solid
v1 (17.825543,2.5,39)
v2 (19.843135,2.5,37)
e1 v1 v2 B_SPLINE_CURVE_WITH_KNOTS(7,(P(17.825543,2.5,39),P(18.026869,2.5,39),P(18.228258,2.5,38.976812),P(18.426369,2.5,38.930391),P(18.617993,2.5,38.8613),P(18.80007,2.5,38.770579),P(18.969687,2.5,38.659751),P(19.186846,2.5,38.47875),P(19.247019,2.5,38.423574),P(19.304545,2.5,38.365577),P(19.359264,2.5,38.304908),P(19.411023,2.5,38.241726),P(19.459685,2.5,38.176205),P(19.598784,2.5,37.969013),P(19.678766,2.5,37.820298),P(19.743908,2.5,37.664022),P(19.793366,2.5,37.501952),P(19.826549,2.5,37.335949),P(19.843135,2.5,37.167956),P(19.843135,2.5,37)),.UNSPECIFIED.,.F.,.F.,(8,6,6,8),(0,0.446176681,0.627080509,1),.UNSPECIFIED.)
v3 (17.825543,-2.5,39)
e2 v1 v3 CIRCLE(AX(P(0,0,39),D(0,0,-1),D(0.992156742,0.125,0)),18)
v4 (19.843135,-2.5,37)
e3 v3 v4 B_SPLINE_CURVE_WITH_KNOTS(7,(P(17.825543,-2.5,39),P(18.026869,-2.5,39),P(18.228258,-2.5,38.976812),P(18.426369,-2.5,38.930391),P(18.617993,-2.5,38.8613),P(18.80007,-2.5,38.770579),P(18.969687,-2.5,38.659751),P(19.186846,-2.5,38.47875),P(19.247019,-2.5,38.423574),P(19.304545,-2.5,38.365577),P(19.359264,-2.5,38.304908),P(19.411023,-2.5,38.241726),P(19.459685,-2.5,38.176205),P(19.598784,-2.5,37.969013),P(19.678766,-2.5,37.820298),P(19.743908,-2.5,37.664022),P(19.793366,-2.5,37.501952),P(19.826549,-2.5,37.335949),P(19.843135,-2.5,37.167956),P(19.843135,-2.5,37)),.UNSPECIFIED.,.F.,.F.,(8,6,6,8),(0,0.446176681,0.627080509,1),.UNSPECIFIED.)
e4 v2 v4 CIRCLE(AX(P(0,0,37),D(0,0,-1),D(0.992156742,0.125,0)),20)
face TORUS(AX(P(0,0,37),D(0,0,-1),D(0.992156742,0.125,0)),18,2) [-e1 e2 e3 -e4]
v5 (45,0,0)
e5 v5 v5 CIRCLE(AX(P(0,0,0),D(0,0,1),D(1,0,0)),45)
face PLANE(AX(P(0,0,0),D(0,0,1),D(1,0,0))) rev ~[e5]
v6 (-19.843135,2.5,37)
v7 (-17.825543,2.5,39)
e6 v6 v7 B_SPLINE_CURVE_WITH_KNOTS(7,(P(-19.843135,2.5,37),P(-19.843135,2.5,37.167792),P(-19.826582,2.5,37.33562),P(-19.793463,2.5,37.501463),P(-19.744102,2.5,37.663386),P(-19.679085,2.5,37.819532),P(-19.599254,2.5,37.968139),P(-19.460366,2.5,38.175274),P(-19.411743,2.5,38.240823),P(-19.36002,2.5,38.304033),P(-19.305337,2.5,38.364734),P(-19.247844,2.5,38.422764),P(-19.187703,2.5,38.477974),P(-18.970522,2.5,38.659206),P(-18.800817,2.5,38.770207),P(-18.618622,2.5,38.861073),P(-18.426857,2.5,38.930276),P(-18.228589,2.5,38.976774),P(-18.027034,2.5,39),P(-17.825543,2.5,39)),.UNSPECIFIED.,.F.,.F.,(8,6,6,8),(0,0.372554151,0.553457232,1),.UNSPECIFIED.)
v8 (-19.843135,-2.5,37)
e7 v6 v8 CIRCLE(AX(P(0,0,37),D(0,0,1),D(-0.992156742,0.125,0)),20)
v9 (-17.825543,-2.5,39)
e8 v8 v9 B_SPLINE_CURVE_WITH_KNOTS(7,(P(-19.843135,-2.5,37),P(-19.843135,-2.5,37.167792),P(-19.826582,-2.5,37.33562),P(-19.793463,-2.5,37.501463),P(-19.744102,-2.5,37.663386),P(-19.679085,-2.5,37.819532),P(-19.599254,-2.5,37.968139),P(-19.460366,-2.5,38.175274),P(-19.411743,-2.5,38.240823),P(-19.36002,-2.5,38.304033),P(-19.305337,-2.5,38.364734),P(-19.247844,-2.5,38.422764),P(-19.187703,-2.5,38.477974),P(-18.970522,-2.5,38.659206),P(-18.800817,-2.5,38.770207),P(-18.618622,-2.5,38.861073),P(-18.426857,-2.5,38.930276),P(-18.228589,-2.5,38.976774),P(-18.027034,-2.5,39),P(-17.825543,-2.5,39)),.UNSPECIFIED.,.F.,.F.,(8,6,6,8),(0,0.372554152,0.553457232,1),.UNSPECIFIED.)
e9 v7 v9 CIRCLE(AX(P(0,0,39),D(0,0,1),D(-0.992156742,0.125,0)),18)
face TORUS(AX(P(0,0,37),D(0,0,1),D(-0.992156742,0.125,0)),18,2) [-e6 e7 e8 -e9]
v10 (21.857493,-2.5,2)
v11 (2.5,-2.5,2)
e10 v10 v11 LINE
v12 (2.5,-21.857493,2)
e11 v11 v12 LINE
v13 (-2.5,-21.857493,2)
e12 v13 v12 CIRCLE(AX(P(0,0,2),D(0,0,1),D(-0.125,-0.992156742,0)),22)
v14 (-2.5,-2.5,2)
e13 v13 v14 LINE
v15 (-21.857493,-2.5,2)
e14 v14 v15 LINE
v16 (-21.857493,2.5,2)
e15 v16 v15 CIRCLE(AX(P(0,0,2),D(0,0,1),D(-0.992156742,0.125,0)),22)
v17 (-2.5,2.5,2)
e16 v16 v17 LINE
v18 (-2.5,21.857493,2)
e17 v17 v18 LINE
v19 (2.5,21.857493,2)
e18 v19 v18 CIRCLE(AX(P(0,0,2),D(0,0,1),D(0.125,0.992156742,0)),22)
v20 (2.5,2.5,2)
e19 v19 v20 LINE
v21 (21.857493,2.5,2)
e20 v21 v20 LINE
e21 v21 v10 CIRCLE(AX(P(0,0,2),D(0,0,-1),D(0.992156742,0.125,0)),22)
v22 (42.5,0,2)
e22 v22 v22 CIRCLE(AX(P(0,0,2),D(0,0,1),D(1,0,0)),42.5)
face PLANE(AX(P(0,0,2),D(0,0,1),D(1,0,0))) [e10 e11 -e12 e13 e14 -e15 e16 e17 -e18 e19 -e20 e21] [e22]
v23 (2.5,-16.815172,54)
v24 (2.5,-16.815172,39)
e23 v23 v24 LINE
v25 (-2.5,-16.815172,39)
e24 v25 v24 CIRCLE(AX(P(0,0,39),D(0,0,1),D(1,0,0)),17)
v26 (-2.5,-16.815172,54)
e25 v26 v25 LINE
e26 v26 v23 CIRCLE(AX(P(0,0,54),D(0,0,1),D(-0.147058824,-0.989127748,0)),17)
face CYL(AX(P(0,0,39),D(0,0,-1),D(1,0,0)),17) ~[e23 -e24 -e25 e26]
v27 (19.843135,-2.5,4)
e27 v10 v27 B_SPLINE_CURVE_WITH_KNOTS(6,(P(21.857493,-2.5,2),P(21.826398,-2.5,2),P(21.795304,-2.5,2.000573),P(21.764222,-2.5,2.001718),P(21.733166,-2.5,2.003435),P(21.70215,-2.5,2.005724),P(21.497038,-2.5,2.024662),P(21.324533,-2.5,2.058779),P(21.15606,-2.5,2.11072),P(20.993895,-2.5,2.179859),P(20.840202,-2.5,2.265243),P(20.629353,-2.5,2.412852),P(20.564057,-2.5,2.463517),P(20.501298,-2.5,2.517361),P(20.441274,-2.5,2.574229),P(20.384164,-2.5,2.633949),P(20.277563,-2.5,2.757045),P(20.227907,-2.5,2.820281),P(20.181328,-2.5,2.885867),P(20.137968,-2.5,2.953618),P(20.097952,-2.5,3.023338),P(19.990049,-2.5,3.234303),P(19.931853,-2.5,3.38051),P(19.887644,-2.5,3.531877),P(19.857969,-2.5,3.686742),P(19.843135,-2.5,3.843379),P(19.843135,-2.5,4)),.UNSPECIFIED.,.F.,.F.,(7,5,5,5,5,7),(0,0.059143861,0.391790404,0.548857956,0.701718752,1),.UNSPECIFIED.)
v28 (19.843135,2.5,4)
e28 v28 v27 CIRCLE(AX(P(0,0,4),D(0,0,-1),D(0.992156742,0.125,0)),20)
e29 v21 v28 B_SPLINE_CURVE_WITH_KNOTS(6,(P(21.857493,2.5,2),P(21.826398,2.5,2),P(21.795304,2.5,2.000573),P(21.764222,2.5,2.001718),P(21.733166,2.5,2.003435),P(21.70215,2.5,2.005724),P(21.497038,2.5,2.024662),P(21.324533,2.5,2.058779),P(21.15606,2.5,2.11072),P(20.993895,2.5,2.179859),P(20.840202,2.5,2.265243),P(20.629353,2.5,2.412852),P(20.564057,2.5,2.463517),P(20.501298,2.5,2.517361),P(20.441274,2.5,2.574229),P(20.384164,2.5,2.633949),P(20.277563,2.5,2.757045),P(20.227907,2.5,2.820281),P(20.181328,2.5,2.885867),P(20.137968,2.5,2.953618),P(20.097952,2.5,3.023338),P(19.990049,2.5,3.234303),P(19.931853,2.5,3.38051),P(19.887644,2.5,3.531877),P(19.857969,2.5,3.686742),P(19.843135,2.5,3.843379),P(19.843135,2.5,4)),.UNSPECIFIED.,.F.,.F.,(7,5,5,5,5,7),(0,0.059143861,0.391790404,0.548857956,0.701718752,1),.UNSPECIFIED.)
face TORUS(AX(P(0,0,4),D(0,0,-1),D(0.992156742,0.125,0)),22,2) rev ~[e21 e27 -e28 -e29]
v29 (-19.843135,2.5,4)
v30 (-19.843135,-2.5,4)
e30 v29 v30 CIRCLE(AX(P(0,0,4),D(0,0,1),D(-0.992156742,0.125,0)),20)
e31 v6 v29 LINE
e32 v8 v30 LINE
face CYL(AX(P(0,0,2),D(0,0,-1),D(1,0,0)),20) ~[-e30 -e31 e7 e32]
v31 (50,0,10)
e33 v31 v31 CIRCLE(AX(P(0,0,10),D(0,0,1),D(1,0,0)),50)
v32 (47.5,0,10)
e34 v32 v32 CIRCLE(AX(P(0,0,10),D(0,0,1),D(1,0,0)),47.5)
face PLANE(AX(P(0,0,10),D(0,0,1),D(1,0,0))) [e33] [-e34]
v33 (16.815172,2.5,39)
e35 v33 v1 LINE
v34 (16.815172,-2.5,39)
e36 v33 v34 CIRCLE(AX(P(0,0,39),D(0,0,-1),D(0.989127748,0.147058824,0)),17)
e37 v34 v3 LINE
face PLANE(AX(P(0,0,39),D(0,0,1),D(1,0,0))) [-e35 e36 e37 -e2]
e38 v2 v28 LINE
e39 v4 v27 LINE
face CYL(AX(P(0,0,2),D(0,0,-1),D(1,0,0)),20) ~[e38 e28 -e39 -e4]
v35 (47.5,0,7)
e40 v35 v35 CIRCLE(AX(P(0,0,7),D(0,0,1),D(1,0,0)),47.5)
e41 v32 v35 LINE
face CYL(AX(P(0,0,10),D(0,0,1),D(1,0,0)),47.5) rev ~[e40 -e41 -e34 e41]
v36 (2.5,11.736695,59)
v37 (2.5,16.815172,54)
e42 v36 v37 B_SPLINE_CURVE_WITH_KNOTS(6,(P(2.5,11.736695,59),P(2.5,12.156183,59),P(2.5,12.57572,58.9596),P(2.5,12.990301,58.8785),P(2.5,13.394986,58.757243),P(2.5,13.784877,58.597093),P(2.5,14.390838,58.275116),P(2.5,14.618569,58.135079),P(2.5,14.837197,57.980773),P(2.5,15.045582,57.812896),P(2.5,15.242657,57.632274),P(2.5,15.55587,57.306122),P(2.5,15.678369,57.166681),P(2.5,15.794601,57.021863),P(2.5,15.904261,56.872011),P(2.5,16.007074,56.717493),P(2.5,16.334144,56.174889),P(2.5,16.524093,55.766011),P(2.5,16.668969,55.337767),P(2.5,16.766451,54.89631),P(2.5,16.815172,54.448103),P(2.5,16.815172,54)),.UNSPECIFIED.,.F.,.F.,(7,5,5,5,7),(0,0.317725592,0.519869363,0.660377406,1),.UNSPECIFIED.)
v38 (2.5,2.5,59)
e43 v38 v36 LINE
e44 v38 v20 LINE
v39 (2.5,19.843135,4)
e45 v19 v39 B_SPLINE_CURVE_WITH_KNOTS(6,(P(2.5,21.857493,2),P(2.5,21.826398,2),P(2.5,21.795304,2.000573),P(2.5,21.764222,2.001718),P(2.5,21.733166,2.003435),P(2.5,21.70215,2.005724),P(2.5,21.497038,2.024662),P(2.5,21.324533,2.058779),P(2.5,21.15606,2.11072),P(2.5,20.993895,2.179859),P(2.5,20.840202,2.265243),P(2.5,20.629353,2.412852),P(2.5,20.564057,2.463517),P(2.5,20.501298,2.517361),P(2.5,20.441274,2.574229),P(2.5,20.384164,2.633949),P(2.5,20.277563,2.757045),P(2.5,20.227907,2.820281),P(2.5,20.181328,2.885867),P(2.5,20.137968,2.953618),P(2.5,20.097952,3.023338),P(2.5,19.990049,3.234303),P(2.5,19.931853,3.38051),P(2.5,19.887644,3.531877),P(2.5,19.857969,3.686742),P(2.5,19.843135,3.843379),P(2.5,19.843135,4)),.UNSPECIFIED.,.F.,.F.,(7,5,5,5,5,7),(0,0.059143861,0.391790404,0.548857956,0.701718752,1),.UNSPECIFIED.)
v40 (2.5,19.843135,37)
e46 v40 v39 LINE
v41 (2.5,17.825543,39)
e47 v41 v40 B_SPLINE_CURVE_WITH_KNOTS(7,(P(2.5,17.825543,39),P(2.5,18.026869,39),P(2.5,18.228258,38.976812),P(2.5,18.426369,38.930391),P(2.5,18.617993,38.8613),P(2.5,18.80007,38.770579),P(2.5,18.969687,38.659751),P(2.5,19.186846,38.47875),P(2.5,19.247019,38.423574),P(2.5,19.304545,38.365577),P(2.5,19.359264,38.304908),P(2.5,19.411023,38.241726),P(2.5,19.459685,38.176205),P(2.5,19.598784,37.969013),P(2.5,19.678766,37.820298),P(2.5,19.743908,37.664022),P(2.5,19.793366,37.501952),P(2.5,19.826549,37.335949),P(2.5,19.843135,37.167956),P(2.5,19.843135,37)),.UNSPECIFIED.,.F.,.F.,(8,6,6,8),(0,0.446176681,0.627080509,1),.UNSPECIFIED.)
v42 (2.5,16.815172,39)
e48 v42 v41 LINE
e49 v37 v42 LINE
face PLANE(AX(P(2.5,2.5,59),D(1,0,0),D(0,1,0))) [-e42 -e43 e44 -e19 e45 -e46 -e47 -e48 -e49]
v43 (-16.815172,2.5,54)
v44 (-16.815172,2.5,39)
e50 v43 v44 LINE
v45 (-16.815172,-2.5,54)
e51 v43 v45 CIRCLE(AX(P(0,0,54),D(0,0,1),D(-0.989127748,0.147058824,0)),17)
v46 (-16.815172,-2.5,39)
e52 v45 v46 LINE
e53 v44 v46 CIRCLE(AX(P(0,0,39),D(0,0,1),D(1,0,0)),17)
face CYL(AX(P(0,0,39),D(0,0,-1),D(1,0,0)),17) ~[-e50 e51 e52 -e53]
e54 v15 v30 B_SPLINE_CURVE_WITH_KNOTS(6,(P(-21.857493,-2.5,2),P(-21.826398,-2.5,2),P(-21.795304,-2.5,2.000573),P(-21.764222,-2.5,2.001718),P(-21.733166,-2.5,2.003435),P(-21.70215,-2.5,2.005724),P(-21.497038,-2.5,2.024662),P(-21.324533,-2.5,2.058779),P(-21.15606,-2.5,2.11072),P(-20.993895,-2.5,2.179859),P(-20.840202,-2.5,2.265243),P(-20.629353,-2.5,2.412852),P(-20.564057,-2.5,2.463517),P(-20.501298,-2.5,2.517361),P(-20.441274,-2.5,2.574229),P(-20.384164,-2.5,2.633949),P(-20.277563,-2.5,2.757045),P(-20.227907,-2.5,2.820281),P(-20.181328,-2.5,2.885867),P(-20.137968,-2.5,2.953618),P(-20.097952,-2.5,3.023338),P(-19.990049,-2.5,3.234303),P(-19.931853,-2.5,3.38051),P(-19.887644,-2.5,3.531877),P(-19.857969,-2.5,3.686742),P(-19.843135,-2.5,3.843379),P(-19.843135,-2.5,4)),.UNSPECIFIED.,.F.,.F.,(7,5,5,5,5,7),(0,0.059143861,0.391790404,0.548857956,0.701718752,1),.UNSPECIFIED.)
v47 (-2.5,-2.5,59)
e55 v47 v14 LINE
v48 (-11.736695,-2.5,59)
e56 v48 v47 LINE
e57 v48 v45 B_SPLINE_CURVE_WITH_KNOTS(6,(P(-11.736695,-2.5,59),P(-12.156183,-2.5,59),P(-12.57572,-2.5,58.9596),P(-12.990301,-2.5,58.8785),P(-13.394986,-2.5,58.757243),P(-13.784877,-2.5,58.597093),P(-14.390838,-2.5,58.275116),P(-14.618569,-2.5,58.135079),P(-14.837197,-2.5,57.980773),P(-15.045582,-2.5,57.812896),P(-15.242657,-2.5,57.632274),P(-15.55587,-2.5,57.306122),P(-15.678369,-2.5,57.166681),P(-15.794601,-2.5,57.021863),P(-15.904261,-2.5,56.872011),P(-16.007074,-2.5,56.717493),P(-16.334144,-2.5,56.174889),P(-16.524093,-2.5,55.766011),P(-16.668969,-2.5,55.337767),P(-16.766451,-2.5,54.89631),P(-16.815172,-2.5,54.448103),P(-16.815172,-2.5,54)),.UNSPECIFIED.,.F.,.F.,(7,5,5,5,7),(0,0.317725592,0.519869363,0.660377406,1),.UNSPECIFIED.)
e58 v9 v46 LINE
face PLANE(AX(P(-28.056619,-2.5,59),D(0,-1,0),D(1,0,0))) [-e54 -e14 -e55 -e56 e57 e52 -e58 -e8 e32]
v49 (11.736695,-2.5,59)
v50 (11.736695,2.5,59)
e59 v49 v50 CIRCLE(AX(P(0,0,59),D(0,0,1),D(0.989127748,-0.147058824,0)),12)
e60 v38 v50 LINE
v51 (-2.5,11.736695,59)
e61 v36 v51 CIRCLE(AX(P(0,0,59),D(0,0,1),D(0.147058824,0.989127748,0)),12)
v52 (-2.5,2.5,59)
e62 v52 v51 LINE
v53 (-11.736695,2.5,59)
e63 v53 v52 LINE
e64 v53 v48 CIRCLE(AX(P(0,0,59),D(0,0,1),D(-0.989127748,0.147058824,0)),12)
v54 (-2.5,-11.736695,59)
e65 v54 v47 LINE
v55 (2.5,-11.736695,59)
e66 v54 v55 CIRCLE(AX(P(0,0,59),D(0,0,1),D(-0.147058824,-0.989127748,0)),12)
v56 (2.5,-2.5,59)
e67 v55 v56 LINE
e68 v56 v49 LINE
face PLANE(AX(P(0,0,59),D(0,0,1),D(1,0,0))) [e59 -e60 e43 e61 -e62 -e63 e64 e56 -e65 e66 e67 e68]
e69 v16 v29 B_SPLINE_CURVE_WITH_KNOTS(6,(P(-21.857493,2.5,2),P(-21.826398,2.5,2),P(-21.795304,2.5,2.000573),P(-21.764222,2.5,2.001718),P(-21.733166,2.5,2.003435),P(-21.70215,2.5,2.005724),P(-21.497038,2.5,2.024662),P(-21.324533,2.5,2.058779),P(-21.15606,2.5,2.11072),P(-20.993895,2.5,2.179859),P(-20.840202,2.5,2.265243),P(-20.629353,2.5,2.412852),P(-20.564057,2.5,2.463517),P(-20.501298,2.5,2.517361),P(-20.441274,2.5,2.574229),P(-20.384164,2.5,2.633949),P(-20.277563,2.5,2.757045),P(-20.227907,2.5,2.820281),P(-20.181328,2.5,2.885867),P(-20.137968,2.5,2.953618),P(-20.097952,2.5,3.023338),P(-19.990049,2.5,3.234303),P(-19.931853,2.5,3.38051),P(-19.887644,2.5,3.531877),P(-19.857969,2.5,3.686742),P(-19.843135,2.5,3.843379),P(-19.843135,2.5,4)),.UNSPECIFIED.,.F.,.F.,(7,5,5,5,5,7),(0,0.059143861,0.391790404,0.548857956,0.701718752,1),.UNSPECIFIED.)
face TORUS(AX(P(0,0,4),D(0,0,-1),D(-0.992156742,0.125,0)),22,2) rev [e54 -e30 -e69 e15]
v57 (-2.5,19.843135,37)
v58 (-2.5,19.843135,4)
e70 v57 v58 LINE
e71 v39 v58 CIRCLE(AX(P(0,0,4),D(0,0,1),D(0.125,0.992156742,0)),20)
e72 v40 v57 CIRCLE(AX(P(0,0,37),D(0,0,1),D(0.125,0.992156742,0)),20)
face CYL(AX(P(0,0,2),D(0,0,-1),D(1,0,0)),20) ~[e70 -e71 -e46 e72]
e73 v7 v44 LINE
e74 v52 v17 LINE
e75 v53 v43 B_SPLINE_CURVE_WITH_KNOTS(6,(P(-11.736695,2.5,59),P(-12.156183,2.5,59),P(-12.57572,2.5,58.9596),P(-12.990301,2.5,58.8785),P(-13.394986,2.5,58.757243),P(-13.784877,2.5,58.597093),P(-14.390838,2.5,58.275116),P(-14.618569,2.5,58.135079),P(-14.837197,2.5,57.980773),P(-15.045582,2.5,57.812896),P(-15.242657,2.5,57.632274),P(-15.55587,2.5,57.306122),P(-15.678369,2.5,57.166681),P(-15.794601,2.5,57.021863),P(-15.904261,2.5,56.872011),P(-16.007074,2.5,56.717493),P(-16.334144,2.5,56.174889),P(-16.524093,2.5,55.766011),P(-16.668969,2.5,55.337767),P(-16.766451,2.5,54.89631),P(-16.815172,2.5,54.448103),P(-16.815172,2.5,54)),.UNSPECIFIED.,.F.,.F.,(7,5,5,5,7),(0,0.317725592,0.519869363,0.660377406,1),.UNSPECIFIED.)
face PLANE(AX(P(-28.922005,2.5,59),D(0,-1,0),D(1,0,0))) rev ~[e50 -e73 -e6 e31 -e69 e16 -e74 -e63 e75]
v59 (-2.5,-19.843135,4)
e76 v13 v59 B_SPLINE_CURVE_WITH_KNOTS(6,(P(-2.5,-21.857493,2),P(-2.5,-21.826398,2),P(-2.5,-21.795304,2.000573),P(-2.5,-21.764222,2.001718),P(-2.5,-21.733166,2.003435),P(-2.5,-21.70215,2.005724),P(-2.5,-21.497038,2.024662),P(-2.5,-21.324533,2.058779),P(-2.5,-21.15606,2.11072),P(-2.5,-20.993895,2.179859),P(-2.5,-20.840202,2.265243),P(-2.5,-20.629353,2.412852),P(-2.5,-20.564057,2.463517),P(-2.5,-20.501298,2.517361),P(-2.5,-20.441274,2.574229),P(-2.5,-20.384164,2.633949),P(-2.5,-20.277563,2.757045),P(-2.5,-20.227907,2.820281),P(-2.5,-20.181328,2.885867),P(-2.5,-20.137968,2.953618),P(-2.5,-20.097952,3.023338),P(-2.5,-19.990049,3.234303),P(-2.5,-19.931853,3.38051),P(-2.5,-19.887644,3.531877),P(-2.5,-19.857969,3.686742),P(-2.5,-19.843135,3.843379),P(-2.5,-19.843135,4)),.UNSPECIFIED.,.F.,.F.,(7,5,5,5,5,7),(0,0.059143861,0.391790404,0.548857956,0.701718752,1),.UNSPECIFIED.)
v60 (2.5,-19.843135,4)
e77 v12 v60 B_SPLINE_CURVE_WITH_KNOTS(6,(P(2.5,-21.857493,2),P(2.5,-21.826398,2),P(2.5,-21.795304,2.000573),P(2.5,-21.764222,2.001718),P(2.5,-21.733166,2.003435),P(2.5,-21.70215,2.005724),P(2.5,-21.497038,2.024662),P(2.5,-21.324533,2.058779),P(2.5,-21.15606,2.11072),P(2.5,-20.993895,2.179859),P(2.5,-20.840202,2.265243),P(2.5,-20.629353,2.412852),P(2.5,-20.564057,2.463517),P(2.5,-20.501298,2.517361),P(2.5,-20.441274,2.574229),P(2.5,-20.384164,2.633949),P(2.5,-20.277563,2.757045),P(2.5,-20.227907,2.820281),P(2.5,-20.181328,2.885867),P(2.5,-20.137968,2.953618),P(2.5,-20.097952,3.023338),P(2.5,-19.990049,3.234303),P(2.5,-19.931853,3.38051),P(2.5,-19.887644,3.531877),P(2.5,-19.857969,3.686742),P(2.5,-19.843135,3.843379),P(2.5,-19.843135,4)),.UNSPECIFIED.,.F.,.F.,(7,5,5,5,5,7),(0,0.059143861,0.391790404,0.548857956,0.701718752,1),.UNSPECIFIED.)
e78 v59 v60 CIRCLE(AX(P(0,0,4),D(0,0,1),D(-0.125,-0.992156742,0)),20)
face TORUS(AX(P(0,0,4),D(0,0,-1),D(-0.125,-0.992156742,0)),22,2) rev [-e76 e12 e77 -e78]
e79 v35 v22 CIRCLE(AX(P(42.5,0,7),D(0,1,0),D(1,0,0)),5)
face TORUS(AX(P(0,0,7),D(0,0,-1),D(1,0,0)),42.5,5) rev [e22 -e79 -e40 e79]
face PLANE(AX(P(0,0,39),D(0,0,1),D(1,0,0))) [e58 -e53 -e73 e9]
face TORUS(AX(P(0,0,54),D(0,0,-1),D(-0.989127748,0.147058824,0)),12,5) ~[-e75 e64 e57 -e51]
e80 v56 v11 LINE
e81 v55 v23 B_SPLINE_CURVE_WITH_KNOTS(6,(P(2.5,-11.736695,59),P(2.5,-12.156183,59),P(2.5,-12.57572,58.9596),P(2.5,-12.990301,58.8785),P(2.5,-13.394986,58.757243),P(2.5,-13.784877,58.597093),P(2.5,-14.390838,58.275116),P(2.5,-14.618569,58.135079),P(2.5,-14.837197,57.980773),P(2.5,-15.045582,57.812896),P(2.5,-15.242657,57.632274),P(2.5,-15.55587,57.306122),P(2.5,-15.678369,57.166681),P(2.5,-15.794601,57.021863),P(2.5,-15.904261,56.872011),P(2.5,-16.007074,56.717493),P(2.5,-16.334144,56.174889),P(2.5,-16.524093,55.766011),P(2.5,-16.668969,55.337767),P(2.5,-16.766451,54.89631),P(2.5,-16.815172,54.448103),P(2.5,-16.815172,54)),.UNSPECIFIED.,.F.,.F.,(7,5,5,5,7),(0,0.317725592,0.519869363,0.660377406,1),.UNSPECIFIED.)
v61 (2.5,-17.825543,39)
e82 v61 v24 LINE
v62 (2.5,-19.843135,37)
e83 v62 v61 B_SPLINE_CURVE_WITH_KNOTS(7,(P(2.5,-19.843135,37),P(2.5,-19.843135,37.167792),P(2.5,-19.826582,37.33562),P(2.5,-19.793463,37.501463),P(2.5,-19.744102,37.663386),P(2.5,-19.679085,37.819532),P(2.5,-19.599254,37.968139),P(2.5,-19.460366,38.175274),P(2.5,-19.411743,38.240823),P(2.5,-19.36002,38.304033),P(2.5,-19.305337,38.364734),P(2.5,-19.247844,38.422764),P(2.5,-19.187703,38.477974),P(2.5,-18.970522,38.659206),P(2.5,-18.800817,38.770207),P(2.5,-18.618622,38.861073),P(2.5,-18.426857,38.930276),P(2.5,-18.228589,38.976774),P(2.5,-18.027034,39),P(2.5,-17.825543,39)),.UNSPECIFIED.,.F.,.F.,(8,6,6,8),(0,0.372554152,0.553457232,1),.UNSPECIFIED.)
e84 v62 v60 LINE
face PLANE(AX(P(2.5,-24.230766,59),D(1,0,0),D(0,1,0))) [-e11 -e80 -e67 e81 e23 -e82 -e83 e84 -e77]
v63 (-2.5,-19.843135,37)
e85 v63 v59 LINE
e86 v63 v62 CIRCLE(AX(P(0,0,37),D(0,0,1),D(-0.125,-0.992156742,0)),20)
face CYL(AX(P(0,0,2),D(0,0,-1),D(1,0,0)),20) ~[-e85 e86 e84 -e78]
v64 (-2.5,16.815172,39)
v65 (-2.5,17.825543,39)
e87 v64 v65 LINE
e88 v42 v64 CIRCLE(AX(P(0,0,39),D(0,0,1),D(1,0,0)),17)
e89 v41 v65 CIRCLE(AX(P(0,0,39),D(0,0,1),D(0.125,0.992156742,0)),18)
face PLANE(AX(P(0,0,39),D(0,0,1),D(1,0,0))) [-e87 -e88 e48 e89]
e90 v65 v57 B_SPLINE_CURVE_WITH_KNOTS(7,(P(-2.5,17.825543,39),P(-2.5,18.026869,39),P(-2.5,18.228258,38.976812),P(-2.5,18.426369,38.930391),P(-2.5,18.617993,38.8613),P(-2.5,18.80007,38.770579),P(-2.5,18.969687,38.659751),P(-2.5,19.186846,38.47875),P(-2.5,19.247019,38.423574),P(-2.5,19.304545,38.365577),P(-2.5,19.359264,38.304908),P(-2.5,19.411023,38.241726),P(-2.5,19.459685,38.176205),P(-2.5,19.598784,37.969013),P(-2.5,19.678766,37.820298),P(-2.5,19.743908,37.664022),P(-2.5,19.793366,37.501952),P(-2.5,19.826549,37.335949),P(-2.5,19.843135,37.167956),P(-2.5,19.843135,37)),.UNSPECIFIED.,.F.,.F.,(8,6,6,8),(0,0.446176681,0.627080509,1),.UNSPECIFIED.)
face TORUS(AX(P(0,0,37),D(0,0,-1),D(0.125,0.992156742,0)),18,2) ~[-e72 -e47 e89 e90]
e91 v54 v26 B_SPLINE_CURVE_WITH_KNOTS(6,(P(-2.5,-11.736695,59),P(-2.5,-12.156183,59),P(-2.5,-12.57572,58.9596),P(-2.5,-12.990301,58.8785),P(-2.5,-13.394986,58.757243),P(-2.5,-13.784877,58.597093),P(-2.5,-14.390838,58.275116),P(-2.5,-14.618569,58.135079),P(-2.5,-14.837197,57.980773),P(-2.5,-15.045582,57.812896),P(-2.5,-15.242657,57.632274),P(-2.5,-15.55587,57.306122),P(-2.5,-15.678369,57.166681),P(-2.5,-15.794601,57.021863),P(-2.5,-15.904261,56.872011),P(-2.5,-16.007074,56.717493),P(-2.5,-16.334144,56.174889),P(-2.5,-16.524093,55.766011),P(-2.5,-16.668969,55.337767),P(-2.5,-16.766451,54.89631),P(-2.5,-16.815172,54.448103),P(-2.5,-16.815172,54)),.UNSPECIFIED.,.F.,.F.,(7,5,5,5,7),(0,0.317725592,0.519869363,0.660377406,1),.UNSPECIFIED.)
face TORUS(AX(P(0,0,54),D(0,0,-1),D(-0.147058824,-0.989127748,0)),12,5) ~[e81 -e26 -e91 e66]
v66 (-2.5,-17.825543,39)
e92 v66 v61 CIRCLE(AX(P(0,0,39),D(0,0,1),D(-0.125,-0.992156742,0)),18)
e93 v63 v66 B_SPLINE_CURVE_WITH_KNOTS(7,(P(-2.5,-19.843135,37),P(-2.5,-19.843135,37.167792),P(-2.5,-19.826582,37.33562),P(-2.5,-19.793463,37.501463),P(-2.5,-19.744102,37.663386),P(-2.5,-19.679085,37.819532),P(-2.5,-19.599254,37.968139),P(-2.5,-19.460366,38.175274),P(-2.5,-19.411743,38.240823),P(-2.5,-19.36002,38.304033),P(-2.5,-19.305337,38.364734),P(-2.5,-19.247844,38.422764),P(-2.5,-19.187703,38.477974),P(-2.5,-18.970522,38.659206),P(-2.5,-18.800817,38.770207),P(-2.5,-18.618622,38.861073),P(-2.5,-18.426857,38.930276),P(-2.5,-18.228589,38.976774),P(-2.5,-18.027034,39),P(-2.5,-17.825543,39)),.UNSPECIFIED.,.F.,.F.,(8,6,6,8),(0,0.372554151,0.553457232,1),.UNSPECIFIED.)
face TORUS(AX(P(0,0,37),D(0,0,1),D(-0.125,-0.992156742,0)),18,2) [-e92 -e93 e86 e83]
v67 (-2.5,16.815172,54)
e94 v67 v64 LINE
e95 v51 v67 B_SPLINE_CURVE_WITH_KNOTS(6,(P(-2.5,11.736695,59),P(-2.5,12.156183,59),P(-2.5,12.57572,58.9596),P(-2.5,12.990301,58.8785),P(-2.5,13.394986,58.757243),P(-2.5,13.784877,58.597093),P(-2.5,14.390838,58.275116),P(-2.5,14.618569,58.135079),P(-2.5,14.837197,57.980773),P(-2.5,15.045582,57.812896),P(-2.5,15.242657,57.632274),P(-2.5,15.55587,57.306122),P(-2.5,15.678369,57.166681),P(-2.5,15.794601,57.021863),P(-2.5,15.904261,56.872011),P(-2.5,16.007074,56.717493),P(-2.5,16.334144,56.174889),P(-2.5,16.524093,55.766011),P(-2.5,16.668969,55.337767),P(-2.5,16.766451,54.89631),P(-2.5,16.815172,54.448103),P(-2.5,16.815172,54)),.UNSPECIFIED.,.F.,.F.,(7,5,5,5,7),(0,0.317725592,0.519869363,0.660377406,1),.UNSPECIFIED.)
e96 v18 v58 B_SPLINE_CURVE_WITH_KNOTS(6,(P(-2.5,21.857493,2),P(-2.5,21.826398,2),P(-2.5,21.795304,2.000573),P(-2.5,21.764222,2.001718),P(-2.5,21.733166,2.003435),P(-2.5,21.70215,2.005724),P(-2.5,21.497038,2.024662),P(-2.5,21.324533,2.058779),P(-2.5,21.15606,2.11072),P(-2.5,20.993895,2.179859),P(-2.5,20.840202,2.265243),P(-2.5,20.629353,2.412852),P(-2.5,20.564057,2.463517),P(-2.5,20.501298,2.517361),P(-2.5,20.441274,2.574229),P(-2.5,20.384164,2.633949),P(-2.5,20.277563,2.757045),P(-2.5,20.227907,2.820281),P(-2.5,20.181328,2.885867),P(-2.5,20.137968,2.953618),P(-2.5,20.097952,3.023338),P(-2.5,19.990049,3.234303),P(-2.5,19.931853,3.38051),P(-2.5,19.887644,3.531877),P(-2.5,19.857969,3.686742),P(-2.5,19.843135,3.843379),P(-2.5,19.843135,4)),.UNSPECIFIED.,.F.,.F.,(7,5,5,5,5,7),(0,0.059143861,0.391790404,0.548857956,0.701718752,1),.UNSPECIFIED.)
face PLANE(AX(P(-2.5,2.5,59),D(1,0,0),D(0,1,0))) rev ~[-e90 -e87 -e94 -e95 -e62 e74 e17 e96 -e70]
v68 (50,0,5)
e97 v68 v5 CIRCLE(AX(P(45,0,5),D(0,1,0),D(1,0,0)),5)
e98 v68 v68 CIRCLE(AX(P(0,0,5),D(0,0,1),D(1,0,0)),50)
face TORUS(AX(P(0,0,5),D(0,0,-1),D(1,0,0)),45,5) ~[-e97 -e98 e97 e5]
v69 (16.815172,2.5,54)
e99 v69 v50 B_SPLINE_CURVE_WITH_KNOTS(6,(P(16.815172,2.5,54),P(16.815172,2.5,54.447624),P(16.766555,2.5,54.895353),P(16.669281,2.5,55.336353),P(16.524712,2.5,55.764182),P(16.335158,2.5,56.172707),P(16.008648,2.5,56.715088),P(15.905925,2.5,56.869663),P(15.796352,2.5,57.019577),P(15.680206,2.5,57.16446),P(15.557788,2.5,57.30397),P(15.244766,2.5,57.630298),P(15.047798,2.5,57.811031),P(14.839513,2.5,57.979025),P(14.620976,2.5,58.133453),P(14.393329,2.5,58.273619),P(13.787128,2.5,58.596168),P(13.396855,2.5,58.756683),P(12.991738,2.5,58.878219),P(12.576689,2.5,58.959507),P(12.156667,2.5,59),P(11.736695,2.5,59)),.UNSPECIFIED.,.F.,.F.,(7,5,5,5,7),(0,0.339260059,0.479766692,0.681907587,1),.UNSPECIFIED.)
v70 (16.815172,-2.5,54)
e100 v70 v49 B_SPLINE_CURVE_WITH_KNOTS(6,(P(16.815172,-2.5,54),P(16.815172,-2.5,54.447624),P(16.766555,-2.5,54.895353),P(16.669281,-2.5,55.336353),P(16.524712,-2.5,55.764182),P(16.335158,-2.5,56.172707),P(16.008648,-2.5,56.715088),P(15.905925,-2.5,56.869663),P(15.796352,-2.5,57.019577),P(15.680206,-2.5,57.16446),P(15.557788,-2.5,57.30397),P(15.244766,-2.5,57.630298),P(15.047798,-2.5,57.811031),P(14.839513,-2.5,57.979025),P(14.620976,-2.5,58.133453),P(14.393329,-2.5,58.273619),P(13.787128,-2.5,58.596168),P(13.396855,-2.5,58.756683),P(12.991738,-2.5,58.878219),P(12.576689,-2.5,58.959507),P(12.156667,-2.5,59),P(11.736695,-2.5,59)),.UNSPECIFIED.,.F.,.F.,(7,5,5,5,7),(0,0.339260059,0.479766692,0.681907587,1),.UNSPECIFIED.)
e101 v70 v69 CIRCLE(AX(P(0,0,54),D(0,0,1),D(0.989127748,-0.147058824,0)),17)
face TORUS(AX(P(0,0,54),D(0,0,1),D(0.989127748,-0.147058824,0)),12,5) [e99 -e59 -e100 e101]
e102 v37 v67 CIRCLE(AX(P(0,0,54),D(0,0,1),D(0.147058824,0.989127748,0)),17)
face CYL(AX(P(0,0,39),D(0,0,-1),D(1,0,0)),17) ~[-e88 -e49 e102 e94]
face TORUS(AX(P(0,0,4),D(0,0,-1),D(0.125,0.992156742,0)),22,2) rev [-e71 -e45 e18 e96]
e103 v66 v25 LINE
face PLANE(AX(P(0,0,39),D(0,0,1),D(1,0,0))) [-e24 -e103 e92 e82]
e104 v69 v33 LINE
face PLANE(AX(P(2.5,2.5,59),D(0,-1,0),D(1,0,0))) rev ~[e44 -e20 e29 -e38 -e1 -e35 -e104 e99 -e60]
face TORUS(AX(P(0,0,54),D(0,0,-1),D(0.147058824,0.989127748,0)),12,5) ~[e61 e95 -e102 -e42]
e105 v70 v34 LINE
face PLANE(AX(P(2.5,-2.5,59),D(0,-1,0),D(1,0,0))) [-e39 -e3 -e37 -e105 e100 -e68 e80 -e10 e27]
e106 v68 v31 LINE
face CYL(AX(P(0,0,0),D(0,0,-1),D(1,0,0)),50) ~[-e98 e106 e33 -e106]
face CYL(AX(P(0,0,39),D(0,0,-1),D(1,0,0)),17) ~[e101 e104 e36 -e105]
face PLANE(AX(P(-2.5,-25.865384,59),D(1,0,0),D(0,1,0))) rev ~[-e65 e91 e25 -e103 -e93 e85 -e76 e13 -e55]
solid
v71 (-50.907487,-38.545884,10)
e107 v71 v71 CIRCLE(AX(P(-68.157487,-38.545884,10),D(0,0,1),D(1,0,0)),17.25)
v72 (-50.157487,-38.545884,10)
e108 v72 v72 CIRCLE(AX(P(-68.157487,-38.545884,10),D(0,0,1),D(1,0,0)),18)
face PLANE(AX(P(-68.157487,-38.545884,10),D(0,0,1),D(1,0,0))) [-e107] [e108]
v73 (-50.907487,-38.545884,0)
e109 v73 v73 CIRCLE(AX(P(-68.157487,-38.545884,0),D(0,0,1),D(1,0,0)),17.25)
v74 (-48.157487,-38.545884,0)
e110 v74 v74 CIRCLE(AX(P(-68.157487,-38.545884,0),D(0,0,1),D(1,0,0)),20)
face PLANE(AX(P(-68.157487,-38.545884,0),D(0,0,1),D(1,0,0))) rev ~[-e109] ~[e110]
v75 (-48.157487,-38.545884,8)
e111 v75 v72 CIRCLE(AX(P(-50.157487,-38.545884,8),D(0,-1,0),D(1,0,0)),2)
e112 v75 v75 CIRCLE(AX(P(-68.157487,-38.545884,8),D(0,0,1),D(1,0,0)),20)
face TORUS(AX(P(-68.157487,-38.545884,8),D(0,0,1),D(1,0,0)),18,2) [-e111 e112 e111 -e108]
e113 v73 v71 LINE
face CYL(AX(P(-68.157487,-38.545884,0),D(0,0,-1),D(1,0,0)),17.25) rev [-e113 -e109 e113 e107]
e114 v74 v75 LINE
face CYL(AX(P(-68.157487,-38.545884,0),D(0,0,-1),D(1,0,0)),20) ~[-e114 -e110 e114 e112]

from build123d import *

# Parameters (mm, degrees)
F0_R      = 50
F1_DEPTH  = 10
F2_R      = 47.5
F3_DEPTH  = 8
F4_R      = 5
F5_R      = 20
F6_DEPTH  = 37
F7_R      = 17
F8_DEPTH  = 20
F9_W      = 26.4220045281
F9_H      = 25.0961510785
F9_W_2    = 24.3472188315
F9_W_3    = 25.1923035735
F9_H_2    = 21.7307658747
F9_W_4    = 25.5566187577
F9_H_3    = 23.3653835039
F10_DEPTH = 57
F11_R     = 5
F12_R     = 2
F13_R     = 20
F13_R_2   = 17.25
F14_DEPTH = 10
F15_R     = 2


with BuildPart() as f1:
    # F0 (on Top) → F1 (new body)
    with BuildSketch(Plane.XY):
        Circle(F0_R)
    extrude(amount=F1_DEPTH)

    # F2 (on face) → F3 (cut)
    with BuildSketch(Plane.XY.offset(10)):
        Circle(F2_R)
    extrude(amount=-F3_DEPTH, mode=Mode.SUBTRACT)

    # F4
    f4_edges = [f1.edges().sort_by_distance(p)[0] for p in [
        (-50, 0, 0),
        (-47.5, 0, 2),
    ]]
    fillet(f4_edges, radius=F4_R)

    # F5 (on face) → F6 (join)
    with BuildSketch(Plane.XY.offset(2)):
        Circle(F5_R)
    extrude(amount=F6_DEPTH)

    # F7 (on face) → F8 (join)
    with BuildSketch(Plane.XY.offset(39)):
        Circle(F7_R)
    extrude(amount=F8_DEPTH)

    # F9 (on face) → F10 (cut)
    with BuildSketch(Plane.XY.offset(59)):
        with Locations((-15.7110022641, 15.0480755392)):
            Rectangle(F9_W, F9_H)
        with Locations((14.6736094158, 15.0480755392)):
            Rectangle(F9_W_2, F9_H)
        with Locations((15.0961517867, -13.3653829373)):
            Rectangle(F9_W_3, F9_H_2)
        with Locations((-15.2783093789, -14.182691752)):
            Rectangle(F9_W_4, F9_H_3)
    extrude(amount=-F10_DEPTH, mode=Mode.SUBTRACT)

    # F11
    f11_edges = [f1.edges().sort_by_distance(p)[0] for p in [
        (-17, 0, 59),
        (0, -17, 59),
        (17, 0, 59),
        (0, 17, 59),
    ]]
    fillet(f11_edges, radius=F11_R)

    # F12
    f12_edges = [f1.edges().sort_by_distance(p)[0] for p in [
        (-20, 0, 39),
        (0, -20, 39),
        (20, 0, 39),
        (0, 20, 39),
        (0, -20, 2),
        (-20, 0, 2),
        (0, 20, 2),
        (20, 0, 2),
    ]]
    fillet(f12_edges, radius=F12_R)


with BuildPart() as f14:
    # F13 (on Top) → F14 (new body)
    with BuildSketch(Plane.XY):
        with Locations((-68.1574866176, -38.545884192)):
            Circle(F13_R)
        with Locations((-68.1574866176, -38.545884192)):
            Circle(F13_R_2, mode=Mode.SUBTRACT)
    extrude(amount=F14_DEPTH)

    # F15
    f15_edges = [f14.edges().sort_by_distance(p)[0] for p in [
        (-88.157487, -38.545884, 10),
    ]]
    fillet(f15_edges, radius=F15_R)


solid = Compound([f1.part, f14.part])
